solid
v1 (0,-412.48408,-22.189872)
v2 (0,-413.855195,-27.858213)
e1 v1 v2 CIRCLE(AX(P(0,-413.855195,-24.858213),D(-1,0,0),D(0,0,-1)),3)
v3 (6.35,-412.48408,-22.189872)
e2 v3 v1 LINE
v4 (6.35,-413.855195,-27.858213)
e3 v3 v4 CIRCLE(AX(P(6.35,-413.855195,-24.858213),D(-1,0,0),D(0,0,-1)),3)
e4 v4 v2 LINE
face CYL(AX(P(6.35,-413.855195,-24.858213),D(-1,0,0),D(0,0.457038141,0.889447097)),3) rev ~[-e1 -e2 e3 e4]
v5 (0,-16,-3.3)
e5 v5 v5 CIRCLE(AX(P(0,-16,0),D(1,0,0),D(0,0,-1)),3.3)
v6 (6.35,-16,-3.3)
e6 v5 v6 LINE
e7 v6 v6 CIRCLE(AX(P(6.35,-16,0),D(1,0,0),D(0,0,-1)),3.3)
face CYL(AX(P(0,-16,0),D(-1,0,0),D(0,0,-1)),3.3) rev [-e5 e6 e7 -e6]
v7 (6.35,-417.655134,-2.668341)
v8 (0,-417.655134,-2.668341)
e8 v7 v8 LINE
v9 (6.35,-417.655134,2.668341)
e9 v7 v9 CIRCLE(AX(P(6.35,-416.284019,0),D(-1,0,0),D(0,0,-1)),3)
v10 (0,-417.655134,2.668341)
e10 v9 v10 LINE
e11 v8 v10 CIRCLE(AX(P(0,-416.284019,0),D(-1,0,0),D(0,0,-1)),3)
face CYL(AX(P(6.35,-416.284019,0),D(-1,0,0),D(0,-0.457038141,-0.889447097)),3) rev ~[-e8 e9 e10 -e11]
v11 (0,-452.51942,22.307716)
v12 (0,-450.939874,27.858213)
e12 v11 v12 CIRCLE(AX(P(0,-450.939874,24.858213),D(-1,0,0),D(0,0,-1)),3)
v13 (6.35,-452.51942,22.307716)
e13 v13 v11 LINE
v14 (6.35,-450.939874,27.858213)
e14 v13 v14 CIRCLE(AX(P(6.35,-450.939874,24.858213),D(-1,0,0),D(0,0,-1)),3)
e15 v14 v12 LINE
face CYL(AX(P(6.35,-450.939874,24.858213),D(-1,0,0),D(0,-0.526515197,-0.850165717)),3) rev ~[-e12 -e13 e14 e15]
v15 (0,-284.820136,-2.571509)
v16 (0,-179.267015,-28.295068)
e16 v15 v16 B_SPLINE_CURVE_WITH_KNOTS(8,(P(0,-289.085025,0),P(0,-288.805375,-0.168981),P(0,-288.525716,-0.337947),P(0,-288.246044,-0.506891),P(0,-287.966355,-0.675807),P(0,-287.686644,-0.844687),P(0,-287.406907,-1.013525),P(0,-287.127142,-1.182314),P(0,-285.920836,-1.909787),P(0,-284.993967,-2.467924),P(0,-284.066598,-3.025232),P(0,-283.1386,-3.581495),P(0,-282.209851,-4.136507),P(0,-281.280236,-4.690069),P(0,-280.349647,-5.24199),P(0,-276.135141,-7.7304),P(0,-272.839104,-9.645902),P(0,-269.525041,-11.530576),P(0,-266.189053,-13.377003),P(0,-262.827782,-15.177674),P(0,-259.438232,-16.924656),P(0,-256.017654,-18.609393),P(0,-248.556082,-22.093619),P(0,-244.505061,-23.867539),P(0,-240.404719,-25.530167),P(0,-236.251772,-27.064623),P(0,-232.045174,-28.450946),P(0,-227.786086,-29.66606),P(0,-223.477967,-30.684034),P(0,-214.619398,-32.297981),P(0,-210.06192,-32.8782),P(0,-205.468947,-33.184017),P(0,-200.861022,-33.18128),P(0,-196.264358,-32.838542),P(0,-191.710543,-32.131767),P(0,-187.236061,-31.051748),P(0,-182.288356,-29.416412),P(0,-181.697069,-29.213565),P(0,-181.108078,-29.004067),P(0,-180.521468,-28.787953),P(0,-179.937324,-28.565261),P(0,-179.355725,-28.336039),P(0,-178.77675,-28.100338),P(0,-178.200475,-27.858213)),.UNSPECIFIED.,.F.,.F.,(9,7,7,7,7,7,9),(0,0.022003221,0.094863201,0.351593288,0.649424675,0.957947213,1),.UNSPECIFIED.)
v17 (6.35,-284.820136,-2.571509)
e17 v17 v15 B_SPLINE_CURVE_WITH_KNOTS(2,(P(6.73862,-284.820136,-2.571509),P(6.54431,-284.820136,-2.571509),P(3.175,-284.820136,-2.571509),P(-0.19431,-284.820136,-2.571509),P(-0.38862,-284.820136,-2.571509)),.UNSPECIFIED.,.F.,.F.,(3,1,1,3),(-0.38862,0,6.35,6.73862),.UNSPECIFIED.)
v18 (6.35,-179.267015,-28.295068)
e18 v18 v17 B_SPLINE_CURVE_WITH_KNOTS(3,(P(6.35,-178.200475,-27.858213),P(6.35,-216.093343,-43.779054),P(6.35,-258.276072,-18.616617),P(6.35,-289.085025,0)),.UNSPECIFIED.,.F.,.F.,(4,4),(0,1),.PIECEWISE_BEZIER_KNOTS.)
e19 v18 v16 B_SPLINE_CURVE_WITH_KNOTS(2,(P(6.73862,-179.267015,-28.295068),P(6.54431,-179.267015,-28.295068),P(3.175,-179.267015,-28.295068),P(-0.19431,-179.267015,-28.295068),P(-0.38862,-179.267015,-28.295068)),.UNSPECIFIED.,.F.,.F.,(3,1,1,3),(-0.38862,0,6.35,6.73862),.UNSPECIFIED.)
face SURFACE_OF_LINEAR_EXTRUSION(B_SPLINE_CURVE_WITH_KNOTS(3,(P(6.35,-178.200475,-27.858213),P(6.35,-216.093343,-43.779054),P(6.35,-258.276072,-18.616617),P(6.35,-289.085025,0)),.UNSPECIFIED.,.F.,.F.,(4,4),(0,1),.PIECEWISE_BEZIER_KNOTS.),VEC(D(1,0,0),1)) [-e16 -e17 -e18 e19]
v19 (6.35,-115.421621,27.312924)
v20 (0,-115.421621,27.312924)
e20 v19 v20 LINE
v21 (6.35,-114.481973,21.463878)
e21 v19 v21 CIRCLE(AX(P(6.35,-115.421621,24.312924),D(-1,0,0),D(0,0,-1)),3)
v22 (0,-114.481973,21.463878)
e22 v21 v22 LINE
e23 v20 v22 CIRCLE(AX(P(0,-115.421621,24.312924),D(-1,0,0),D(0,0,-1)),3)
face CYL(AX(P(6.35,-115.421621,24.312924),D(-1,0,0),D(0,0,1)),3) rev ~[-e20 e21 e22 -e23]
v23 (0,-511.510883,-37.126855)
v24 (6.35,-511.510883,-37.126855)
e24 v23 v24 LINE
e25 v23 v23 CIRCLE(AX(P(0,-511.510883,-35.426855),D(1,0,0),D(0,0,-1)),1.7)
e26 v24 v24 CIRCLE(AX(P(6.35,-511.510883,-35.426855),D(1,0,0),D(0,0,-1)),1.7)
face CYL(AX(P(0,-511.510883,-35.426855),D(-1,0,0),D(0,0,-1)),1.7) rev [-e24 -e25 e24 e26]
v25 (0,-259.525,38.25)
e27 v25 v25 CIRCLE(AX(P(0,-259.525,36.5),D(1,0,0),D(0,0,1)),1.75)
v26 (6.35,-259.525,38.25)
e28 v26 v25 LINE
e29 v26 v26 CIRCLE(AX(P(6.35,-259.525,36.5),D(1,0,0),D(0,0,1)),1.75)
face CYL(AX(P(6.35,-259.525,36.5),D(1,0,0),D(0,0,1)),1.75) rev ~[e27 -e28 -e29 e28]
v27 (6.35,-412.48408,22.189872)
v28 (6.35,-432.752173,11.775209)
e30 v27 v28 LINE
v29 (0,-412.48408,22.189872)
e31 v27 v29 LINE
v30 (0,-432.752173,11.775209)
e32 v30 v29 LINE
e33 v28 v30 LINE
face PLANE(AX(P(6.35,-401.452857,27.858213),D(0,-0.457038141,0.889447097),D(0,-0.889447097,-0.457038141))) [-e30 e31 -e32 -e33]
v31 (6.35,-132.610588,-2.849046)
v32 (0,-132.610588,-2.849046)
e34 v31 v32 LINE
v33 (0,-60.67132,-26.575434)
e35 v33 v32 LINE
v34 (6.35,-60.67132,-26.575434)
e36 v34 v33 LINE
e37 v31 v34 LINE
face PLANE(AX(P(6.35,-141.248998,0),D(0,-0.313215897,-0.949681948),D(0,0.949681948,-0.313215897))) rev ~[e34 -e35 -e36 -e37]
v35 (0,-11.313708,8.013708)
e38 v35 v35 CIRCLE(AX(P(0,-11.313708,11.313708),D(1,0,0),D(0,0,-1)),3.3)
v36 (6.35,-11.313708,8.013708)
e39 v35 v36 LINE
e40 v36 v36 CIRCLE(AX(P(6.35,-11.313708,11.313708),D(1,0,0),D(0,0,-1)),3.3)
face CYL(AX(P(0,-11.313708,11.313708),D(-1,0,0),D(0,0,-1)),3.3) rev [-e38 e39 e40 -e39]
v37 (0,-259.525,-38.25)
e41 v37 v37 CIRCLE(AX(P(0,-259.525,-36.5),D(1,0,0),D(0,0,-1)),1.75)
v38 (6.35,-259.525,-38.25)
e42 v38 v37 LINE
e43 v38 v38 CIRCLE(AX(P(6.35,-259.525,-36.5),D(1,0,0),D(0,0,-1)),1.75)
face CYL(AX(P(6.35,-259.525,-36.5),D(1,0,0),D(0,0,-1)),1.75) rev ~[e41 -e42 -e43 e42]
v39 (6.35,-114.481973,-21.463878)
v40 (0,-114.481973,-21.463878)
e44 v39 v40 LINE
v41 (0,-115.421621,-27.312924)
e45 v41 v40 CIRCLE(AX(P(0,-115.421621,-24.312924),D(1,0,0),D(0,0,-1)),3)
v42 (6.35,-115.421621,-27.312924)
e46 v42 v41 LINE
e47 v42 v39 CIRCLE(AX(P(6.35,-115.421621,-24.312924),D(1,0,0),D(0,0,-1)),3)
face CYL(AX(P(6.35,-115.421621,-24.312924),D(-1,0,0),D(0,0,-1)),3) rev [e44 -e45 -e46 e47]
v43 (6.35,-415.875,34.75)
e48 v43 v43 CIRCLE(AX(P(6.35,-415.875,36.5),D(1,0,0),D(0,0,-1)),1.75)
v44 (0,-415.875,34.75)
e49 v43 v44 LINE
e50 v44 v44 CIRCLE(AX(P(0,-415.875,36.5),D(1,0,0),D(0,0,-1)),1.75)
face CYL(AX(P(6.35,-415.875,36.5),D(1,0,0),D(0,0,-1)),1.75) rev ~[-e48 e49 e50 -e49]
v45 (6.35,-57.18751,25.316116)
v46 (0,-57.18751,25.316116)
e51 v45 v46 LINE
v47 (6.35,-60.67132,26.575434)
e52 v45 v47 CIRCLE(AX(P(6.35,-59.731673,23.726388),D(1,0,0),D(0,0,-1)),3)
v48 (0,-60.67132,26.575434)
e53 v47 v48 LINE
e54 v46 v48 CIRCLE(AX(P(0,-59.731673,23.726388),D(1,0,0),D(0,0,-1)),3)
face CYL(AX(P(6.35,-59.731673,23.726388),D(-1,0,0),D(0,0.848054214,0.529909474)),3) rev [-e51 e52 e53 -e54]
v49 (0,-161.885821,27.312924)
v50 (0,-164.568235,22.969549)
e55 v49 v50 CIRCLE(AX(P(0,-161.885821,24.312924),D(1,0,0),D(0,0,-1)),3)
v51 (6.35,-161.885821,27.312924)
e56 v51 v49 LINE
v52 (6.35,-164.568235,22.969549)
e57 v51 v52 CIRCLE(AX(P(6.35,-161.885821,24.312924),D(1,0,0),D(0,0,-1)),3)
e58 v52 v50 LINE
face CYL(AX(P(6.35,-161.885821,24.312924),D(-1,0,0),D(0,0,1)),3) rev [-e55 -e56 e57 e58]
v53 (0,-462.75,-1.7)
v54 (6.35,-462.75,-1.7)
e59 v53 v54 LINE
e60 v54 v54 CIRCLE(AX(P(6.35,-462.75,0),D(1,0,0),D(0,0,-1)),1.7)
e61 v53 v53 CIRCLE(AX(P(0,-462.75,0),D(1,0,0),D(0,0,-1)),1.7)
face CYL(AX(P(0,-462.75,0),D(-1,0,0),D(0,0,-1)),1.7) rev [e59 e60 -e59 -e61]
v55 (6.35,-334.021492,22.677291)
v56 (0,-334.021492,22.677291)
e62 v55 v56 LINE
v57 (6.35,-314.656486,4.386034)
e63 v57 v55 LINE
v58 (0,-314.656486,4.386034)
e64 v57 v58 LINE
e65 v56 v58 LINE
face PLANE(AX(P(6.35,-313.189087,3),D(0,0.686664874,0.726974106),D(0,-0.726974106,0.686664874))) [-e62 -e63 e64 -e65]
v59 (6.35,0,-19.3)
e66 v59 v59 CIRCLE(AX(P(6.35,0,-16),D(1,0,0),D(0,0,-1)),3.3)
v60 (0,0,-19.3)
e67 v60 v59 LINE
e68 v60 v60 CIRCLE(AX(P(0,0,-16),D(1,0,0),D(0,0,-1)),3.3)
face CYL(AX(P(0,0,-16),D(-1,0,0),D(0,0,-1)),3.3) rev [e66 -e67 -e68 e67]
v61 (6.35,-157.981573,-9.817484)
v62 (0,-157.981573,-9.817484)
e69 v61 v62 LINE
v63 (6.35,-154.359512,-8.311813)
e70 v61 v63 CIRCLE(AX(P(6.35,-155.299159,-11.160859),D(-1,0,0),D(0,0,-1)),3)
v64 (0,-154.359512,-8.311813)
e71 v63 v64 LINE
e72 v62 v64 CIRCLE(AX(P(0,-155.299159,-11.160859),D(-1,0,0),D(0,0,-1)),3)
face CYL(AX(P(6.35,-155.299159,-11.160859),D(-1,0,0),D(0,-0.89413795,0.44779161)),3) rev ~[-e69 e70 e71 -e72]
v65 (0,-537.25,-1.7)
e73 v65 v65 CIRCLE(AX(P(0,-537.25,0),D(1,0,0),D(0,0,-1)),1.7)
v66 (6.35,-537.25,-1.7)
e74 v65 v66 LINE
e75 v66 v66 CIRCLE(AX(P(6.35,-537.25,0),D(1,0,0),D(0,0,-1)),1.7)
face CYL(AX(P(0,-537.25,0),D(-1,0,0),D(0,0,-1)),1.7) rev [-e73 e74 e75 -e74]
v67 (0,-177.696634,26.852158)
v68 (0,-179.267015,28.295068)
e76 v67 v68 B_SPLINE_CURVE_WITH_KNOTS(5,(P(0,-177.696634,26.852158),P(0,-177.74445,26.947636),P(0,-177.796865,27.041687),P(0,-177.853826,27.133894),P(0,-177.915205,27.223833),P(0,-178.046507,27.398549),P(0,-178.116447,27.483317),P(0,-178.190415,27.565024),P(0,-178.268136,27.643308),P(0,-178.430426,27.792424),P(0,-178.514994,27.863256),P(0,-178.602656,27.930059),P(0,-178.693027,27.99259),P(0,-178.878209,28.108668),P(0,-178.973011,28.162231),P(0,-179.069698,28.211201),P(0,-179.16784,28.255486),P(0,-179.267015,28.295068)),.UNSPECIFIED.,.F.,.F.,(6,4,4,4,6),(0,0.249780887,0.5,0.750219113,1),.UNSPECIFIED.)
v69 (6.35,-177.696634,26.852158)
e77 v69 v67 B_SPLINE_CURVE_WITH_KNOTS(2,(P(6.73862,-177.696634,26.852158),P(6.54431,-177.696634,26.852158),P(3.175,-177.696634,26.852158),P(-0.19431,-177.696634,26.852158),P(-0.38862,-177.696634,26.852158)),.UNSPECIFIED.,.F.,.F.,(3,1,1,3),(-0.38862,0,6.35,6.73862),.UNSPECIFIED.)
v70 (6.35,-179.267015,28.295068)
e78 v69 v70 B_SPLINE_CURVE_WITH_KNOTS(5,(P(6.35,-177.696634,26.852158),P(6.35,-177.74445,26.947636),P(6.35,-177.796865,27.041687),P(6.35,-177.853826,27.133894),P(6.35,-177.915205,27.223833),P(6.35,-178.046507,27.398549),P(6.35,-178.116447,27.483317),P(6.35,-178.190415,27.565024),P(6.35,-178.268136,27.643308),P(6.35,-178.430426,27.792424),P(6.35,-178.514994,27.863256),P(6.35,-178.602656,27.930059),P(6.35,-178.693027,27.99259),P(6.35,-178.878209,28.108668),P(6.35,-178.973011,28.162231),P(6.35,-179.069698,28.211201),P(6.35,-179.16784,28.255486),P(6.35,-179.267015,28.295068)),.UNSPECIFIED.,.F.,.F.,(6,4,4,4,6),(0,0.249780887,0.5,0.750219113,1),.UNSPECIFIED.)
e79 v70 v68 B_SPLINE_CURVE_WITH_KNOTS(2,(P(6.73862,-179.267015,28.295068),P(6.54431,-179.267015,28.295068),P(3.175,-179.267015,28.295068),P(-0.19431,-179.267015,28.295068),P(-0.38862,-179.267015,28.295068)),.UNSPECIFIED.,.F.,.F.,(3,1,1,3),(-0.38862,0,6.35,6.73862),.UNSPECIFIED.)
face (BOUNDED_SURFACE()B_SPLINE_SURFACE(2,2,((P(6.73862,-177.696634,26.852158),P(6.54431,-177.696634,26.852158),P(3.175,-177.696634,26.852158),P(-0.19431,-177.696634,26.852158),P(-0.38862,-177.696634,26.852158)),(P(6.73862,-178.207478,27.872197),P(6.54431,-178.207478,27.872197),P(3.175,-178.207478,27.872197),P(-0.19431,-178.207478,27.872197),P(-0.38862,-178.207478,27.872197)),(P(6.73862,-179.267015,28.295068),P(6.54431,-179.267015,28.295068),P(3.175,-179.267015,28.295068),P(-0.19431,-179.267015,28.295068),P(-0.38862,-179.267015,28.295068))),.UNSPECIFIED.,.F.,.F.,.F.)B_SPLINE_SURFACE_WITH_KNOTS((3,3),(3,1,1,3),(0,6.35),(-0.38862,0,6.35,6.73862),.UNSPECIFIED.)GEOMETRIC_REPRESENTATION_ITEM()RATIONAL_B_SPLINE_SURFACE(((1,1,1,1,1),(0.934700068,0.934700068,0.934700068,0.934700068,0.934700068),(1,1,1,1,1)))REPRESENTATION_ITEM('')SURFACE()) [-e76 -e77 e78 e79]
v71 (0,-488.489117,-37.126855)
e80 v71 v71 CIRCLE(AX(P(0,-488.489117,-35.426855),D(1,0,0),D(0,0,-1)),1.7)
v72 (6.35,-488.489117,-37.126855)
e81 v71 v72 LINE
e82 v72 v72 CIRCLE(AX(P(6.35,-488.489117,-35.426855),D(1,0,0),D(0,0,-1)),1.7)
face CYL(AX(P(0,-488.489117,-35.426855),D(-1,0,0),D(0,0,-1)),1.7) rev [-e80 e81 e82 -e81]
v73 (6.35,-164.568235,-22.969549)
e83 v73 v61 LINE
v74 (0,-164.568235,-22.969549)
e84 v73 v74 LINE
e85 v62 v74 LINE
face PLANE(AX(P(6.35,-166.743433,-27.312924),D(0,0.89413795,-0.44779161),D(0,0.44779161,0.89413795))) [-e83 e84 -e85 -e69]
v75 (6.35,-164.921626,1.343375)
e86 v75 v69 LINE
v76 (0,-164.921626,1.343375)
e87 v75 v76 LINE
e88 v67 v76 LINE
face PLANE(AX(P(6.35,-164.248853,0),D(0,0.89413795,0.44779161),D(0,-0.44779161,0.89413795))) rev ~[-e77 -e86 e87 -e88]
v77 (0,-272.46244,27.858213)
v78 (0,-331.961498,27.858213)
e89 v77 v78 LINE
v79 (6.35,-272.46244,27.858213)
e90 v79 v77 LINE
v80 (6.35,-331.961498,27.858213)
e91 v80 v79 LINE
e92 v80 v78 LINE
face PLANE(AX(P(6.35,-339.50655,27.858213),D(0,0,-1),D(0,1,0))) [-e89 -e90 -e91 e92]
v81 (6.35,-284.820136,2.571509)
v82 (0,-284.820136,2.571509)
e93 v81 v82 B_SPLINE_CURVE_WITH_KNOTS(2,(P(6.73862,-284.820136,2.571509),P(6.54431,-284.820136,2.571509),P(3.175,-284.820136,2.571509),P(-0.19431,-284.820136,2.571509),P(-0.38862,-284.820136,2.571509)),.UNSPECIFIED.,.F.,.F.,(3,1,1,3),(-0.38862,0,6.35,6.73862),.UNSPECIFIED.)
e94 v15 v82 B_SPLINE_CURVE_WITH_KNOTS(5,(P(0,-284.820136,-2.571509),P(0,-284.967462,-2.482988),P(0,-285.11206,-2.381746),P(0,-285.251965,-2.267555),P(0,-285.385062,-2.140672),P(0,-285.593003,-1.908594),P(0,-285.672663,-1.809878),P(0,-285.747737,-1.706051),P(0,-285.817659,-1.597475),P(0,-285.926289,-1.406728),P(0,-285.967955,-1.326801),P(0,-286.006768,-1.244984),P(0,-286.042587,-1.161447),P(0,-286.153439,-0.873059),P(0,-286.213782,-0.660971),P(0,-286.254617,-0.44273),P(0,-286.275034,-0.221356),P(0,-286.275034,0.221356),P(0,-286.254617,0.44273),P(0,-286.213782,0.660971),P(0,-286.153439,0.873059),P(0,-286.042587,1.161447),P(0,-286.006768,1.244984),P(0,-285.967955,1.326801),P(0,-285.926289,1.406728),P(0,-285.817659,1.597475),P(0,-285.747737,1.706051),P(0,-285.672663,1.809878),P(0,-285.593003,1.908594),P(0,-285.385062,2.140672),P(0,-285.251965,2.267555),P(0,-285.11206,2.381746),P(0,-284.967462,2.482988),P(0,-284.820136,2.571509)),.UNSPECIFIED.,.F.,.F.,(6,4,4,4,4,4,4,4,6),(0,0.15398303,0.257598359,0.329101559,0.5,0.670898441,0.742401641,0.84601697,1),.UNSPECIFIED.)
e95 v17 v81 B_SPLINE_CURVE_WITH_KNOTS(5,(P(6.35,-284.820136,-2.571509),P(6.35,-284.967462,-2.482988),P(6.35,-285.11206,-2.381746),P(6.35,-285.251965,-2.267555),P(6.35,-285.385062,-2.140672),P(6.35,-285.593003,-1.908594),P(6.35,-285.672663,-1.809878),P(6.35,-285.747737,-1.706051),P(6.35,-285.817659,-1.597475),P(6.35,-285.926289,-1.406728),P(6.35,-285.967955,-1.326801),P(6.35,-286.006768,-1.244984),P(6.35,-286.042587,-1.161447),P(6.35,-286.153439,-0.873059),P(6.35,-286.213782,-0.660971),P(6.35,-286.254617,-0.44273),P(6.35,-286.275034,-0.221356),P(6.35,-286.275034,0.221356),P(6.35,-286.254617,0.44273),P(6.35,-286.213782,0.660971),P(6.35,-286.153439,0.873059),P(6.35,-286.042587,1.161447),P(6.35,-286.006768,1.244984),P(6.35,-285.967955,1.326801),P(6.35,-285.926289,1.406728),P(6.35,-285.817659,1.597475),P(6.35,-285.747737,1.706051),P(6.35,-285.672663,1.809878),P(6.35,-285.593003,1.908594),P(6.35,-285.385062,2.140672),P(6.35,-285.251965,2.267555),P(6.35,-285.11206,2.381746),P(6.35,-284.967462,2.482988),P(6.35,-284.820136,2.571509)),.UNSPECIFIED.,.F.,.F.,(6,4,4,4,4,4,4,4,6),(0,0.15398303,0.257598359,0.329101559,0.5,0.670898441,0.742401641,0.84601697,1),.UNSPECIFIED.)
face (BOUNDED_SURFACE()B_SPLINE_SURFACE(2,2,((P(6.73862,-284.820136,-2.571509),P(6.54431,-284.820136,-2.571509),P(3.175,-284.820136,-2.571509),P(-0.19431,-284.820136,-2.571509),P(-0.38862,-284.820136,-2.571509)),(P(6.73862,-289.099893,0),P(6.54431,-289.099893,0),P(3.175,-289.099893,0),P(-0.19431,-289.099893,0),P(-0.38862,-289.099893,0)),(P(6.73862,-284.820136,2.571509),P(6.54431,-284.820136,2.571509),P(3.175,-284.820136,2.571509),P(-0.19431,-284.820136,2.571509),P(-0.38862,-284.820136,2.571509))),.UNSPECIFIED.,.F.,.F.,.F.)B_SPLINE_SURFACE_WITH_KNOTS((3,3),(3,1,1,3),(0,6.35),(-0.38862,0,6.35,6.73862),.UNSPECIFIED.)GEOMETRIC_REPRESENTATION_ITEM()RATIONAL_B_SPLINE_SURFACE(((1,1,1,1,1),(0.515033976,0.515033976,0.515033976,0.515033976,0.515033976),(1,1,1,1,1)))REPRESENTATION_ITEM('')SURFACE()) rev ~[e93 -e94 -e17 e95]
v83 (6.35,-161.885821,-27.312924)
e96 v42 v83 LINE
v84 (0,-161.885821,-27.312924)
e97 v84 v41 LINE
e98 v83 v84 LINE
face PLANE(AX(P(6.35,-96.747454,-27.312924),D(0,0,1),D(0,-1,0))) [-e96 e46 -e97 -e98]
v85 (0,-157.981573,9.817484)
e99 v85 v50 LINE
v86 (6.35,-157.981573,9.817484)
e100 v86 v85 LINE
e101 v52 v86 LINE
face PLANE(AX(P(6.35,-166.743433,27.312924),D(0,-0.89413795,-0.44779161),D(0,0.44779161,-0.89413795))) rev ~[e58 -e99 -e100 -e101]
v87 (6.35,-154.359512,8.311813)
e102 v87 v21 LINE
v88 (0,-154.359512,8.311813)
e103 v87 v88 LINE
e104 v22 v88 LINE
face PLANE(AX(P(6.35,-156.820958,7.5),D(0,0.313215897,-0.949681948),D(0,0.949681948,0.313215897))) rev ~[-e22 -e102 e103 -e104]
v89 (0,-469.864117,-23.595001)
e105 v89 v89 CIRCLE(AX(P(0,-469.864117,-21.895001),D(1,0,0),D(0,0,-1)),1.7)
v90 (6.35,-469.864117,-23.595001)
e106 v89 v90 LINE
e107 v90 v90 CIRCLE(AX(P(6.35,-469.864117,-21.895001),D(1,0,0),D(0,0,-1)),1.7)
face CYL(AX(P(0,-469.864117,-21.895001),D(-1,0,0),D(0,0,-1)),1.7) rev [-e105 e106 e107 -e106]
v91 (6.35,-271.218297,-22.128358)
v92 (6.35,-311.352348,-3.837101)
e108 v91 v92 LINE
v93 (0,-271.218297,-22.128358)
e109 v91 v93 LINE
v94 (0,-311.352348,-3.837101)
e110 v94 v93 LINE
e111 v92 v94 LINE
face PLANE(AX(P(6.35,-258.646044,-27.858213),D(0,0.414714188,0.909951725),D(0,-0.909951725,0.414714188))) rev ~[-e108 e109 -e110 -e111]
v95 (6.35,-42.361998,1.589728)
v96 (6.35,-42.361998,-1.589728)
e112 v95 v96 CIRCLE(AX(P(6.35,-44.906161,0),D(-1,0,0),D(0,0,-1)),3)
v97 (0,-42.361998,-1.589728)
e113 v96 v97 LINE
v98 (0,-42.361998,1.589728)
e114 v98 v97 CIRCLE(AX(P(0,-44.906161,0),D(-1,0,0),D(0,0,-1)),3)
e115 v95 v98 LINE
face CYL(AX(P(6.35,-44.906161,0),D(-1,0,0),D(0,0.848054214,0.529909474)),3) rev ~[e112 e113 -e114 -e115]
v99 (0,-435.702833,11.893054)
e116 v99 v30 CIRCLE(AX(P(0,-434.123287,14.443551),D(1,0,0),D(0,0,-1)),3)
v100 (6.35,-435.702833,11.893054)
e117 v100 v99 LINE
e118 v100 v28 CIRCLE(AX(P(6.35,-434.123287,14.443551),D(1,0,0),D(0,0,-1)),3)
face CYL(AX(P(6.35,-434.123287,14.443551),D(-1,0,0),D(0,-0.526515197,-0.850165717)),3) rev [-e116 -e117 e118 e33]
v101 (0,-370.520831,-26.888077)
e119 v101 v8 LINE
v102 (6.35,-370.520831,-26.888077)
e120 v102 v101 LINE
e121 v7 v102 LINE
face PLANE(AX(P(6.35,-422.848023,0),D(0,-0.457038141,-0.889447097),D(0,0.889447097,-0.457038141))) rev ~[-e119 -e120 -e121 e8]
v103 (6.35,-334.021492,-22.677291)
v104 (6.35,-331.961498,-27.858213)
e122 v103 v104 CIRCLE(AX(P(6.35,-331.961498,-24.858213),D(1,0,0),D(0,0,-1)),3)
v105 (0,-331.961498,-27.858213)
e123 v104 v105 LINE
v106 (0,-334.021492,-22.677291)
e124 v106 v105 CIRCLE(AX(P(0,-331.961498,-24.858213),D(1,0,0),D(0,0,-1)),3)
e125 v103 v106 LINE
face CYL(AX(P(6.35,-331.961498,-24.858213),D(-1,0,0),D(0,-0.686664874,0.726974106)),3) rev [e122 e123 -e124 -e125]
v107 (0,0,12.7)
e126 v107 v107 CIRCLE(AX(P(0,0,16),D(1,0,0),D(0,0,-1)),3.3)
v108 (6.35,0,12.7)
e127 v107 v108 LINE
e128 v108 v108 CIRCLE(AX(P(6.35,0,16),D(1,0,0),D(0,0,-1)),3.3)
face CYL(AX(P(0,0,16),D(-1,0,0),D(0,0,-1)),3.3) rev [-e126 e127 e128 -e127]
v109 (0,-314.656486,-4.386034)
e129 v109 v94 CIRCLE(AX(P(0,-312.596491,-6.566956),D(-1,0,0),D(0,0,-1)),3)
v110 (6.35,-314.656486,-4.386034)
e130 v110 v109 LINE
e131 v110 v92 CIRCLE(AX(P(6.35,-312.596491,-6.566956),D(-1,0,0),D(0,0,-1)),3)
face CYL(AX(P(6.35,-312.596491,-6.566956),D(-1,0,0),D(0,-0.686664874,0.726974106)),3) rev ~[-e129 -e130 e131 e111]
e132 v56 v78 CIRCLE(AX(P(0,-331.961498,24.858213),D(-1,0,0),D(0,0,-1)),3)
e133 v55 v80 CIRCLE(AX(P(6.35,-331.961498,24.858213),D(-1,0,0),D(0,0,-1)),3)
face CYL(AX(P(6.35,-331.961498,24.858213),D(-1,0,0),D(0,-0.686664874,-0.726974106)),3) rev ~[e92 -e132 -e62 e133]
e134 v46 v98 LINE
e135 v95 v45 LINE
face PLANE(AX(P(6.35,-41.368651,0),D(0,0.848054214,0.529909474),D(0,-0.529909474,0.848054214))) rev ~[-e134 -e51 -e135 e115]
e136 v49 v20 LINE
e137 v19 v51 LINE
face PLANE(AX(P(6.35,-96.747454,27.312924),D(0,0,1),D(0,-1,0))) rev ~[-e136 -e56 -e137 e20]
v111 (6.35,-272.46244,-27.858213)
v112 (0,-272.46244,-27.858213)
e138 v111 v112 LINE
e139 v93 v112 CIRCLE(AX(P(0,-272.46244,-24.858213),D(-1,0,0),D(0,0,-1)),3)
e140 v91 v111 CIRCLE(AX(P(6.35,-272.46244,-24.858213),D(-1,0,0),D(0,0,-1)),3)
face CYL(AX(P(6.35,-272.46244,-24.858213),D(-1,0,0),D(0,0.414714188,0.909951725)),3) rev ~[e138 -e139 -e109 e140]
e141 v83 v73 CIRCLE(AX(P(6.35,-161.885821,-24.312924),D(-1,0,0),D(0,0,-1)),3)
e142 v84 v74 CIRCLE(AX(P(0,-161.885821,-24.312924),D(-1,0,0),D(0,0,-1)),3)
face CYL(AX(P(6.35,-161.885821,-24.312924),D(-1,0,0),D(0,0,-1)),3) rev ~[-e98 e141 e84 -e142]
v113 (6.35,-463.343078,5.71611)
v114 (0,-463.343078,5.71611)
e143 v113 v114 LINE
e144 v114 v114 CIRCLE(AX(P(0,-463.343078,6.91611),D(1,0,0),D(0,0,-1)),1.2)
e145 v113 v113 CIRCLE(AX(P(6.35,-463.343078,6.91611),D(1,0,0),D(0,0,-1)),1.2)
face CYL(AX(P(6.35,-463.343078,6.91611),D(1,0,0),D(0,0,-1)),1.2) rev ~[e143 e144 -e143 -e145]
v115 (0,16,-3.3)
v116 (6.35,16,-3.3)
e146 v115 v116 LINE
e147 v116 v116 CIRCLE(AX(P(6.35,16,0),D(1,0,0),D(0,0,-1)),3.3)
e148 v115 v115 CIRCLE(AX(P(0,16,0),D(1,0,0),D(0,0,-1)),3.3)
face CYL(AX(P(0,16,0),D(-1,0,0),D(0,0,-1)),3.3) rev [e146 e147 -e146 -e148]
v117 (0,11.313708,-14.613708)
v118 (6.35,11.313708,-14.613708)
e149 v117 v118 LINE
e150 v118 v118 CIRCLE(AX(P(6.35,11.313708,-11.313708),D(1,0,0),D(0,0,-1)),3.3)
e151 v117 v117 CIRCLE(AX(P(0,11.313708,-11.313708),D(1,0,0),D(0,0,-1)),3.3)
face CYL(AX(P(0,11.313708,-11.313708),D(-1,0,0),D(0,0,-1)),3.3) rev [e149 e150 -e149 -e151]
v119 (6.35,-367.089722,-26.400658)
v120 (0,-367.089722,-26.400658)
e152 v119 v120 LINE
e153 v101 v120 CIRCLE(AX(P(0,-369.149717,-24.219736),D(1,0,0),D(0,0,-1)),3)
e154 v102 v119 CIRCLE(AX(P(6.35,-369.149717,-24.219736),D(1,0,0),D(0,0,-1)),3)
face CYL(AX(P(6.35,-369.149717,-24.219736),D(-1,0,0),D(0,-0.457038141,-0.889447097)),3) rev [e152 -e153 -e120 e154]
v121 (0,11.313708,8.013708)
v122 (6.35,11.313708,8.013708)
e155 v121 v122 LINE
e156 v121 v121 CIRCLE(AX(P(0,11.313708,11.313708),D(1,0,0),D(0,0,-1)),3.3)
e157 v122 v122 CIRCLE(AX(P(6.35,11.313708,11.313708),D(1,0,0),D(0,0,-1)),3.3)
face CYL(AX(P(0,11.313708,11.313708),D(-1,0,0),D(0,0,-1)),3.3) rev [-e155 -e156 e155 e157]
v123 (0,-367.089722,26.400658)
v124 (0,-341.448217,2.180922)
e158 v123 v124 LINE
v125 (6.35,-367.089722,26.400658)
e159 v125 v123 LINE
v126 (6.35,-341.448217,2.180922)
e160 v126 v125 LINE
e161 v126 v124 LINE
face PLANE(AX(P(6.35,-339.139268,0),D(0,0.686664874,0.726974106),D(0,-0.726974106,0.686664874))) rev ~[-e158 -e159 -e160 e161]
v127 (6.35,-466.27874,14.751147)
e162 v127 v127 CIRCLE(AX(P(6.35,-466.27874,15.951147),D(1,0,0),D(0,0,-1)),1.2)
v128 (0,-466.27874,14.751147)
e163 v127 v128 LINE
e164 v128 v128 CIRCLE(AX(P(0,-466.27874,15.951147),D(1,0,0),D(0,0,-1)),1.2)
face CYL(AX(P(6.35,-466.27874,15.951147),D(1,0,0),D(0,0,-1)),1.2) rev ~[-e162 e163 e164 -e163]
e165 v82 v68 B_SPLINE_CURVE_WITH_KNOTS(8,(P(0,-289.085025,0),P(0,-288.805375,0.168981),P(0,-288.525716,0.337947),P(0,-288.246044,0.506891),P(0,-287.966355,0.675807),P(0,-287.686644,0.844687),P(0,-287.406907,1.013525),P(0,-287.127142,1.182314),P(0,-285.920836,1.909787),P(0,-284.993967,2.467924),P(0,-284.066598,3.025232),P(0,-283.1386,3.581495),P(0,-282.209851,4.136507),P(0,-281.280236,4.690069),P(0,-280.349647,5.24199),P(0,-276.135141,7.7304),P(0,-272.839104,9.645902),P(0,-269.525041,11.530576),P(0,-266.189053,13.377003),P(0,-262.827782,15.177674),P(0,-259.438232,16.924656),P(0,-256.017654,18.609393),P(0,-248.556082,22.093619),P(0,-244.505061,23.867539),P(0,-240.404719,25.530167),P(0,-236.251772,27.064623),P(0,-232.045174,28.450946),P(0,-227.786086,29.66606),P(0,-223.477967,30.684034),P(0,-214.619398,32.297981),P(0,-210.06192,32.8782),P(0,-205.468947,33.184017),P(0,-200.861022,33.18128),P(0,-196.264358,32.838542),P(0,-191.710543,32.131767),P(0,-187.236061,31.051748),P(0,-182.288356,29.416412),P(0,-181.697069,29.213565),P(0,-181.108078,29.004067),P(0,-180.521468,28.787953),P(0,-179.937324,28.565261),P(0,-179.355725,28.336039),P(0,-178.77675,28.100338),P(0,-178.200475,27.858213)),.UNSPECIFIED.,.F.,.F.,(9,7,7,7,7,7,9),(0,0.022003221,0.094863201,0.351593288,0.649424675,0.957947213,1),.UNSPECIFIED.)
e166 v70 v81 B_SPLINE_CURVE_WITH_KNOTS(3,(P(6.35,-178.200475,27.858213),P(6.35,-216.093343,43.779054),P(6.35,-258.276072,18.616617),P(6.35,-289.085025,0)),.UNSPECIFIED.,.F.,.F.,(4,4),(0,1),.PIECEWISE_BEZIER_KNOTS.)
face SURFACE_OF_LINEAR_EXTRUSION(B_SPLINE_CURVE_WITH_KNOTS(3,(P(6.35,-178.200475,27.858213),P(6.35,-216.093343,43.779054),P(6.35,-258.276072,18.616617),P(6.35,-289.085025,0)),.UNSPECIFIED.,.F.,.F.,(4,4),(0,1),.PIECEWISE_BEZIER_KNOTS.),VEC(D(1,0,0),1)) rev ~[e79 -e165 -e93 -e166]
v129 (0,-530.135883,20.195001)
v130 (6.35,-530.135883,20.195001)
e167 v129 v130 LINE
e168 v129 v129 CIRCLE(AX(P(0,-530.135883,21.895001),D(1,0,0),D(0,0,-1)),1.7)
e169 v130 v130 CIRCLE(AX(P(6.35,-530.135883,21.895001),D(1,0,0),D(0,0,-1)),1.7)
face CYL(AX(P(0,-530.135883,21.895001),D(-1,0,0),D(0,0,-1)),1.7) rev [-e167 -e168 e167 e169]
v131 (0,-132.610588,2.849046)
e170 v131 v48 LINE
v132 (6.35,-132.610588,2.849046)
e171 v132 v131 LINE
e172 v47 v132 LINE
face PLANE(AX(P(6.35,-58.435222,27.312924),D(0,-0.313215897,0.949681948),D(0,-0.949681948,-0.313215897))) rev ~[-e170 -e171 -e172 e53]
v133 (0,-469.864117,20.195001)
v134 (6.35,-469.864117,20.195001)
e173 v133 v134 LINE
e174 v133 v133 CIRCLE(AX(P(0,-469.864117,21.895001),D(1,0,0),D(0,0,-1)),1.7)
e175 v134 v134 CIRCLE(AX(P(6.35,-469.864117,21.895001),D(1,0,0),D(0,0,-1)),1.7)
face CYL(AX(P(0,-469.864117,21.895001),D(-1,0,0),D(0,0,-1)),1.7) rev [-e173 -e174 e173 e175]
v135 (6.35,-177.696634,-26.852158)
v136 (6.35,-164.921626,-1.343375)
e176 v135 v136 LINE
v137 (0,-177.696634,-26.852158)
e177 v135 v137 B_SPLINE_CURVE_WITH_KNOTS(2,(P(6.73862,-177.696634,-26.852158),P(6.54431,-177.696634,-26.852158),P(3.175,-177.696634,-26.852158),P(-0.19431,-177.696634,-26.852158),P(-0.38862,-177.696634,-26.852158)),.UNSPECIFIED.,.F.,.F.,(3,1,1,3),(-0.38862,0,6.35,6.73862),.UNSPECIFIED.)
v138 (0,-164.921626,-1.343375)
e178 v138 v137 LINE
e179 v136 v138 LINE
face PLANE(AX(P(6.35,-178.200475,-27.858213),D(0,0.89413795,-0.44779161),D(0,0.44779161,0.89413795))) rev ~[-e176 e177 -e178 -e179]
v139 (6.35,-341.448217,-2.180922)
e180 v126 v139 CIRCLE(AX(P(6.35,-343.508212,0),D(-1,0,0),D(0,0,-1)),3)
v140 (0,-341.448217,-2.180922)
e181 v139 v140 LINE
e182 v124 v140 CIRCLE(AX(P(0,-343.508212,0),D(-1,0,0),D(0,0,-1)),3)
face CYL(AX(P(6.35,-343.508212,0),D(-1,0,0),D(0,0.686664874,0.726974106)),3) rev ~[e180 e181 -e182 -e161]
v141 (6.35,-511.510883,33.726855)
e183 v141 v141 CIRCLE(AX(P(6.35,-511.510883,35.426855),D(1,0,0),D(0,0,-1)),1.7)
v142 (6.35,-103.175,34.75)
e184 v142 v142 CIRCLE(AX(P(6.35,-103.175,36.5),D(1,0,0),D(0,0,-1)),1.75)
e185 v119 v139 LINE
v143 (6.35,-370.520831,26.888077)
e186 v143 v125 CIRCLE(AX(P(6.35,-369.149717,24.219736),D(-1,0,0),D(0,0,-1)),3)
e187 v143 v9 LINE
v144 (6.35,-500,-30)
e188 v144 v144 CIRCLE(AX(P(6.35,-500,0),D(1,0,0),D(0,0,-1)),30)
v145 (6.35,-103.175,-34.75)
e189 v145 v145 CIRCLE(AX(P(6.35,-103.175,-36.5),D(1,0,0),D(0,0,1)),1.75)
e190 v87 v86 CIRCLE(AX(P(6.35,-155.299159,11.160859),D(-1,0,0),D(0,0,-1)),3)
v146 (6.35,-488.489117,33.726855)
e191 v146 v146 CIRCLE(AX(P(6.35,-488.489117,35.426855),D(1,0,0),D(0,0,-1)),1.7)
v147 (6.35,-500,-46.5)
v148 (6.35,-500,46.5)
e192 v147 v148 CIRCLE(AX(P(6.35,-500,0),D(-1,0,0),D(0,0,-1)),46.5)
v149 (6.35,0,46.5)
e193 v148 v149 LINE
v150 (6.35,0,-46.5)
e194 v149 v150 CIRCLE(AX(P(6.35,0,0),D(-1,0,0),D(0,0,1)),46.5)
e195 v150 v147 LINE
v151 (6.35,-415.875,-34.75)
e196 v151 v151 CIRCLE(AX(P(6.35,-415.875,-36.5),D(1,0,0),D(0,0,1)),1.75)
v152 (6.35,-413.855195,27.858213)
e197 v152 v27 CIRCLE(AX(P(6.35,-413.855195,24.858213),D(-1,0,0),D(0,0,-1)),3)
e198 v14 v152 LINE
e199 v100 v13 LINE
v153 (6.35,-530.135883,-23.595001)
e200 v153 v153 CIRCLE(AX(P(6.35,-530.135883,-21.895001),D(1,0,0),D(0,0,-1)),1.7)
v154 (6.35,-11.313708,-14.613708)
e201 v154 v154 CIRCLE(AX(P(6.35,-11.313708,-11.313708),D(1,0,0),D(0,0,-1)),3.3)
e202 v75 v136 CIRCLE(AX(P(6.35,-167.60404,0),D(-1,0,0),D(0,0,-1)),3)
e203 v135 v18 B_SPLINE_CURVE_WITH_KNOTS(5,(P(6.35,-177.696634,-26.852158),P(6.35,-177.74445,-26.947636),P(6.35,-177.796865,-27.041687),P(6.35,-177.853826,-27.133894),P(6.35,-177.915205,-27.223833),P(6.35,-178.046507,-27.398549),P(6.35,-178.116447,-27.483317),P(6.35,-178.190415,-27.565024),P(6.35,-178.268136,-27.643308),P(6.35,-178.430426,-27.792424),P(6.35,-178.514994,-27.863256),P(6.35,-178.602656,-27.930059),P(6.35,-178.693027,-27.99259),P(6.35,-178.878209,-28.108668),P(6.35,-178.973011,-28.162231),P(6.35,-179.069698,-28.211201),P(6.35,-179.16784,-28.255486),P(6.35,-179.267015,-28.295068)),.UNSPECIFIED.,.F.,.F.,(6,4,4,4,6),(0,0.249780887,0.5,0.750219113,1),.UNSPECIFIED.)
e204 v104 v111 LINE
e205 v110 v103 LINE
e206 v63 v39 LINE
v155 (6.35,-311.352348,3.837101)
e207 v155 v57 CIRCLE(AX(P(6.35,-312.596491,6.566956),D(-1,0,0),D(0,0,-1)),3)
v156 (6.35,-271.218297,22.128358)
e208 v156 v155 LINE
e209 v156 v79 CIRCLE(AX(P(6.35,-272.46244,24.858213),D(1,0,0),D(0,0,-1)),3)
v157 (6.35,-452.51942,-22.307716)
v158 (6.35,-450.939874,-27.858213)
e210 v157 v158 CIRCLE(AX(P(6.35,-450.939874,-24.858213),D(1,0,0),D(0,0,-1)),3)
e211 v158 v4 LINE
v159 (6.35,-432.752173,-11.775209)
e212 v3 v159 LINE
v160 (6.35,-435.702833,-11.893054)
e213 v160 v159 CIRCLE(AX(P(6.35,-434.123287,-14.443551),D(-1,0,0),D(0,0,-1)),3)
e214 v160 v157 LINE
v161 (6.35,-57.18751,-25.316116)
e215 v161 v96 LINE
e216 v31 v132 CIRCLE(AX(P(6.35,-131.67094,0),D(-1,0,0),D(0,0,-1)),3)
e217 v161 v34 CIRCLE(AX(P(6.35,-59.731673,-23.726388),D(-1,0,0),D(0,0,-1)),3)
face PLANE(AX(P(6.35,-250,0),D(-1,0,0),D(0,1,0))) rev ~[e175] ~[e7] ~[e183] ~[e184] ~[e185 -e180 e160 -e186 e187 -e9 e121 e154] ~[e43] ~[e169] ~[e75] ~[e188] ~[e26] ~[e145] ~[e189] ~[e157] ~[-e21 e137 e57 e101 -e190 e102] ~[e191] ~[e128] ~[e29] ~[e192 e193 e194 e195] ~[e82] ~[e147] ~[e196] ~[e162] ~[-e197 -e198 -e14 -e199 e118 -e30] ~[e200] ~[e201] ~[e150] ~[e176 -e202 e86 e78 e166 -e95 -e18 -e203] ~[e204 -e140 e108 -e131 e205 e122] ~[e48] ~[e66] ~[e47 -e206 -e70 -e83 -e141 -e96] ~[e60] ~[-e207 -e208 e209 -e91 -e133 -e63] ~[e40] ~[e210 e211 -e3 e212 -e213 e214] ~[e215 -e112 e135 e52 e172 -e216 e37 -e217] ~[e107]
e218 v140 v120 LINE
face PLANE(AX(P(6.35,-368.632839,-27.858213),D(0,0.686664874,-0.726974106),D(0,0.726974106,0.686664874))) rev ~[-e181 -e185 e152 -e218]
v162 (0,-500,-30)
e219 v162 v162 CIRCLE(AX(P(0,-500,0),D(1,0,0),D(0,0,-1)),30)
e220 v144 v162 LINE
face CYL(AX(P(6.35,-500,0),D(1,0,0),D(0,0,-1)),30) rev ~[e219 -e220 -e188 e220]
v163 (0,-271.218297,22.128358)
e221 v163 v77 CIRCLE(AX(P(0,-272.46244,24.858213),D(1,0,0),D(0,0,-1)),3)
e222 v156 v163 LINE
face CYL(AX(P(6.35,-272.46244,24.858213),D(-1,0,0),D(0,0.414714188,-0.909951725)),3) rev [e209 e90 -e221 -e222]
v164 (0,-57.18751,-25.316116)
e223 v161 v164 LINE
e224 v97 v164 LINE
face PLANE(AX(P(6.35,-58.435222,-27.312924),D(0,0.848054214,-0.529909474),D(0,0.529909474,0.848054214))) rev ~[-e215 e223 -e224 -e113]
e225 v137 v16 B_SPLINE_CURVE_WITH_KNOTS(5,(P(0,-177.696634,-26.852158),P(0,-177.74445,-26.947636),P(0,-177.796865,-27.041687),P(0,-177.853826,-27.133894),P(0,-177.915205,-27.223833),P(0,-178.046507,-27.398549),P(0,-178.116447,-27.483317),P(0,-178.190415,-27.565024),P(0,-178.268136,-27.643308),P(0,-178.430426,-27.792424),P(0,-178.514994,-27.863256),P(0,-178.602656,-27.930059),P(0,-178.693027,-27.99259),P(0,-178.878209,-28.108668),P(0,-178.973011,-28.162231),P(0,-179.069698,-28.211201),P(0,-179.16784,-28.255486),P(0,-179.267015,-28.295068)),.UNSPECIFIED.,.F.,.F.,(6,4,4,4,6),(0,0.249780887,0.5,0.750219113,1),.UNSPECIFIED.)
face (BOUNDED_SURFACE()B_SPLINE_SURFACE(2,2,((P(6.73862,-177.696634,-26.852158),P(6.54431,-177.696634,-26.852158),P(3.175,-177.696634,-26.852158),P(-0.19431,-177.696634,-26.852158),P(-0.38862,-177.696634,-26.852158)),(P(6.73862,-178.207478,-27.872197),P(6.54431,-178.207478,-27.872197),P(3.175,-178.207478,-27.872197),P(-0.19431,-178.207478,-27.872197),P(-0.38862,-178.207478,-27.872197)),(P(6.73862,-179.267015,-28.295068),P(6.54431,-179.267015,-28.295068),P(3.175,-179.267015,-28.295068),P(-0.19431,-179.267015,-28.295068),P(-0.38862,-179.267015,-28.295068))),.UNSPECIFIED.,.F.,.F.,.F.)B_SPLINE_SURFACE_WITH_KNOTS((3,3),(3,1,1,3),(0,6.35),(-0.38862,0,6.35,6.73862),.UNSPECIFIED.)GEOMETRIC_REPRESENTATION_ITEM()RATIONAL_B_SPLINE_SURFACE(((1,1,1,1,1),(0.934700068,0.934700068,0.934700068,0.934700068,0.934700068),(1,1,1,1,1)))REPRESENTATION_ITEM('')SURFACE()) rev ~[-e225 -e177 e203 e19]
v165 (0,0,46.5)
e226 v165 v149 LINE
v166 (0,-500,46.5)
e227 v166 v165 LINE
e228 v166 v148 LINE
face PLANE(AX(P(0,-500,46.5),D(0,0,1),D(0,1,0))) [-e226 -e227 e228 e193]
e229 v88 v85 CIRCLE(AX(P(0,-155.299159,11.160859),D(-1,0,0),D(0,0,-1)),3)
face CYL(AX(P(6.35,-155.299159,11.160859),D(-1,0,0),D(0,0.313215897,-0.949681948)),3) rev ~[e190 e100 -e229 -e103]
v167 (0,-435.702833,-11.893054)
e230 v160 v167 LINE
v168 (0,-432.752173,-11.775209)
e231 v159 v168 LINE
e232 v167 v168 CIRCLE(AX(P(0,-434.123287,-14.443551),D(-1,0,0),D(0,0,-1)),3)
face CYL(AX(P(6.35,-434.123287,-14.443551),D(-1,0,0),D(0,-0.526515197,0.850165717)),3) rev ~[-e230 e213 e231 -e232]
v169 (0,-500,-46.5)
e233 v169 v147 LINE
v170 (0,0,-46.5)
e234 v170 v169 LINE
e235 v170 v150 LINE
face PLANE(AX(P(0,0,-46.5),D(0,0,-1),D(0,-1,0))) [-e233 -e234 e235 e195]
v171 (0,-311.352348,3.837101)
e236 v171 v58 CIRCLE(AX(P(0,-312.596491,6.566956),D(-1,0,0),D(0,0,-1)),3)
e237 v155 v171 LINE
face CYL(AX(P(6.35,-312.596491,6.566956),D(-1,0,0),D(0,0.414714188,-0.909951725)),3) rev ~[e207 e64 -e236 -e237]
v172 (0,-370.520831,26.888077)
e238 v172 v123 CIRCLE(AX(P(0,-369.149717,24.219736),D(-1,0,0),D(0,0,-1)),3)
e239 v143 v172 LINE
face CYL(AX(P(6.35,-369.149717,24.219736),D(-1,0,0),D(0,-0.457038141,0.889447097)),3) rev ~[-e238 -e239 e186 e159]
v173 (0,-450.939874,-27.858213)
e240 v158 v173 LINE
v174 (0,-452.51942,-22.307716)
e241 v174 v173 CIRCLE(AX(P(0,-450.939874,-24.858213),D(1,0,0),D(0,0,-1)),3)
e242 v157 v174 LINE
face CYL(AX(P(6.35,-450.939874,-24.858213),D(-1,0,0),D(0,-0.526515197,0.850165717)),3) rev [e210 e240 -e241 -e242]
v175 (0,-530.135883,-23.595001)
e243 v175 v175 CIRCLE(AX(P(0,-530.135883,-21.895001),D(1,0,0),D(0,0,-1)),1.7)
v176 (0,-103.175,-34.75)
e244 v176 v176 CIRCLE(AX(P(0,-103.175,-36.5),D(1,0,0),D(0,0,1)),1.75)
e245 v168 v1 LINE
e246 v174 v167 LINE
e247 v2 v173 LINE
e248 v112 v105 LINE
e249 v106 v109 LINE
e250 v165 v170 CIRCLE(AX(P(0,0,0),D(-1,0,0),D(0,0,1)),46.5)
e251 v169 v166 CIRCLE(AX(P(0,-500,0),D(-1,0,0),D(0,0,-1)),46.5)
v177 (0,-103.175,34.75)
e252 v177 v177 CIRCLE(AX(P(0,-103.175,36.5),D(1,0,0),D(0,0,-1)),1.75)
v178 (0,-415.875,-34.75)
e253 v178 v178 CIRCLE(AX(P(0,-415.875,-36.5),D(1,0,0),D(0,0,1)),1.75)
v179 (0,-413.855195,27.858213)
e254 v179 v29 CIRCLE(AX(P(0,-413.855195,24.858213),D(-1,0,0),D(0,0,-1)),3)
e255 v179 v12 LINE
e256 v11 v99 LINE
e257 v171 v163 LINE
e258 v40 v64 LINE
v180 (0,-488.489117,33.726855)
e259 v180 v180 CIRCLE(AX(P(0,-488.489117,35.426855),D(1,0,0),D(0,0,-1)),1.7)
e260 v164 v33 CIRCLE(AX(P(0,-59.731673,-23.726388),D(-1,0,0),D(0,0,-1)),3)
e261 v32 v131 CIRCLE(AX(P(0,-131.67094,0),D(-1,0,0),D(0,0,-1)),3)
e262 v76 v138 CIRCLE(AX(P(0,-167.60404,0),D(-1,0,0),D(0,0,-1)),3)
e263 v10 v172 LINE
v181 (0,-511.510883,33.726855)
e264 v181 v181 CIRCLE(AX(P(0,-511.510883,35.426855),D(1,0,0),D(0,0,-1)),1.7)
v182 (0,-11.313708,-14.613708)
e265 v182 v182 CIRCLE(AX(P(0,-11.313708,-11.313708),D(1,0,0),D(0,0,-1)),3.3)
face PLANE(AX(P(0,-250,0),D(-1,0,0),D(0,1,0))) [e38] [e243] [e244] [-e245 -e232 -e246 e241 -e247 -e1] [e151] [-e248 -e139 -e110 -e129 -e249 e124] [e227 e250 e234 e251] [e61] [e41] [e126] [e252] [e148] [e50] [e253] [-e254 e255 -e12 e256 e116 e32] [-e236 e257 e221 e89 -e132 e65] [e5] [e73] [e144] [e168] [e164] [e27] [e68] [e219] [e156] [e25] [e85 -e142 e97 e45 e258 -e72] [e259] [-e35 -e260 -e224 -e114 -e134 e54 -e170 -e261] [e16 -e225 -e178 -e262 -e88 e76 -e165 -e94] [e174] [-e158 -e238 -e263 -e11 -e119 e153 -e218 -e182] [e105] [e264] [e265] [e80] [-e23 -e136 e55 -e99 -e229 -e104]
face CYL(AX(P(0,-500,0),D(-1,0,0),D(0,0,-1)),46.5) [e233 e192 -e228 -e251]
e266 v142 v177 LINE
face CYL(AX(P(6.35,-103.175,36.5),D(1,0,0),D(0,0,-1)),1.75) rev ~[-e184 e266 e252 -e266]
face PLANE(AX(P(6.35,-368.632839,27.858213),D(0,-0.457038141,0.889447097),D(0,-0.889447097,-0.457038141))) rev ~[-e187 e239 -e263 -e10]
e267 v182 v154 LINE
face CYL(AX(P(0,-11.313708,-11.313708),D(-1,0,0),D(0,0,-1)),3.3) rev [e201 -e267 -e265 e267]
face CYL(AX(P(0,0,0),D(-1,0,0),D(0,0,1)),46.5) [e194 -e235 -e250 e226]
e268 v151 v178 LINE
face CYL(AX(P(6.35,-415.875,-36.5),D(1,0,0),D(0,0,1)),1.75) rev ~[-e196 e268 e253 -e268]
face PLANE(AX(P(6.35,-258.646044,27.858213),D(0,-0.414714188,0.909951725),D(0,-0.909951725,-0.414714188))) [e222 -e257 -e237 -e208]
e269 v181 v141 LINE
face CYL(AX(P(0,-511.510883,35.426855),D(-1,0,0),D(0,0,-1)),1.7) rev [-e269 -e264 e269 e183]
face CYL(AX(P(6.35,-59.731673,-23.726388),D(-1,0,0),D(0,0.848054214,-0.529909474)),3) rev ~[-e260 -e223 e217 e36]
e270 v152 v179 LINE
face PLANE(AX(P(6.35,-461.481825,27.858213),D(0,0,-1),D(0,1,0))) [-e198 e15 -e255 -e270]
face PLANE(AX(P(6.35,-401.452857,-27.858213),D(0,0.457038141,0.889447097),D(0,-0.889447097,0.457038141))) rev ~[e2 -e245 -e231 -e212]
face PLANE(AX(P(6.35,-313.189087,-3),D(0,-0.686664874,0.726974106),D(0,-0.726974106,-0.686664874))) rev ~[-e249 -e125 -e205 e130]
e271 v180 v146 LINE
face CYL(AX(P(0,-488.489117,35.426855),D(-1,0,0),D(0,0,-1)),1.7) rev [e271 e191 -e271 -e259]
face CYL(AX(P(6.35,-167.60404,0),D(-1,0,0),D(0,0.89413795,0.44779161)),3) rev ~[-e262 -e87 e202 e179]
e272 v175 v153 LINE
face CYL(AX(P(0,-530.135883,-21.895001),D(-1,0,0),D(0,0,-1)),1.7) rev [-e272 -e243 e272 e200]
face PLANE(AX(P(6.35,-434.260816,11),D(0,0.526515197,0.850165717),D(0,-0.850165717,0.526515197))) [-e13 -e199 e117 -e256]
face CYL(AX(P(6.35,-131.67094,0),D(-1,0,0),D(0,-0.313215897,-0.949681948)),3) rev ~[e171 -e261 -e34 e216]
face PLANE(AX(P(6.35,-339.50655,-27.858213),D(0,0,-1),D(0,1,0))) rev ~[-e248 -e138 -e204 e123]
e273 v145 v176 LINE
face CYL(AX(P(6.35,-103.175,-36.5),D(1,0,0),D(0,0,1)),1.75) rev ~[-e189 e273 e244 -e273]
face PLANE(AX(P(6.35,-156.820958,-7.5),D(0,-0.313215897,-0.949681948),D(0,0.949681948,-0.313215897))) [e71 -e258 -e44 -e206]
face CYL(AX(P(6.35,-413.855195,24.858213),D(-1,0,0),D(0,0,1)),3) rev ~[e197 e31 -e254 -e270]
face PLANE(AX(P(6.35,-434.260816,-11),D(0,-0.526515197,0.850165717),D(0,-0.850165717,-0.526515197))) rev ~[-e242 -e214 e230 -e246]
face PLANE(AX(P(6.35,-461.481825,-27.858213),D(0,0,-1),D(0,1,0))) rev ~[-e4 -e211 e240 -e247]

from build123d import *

# Parameters (mm, degrees)
SKETCH1_R                            = 3.3
SKETCH1_R_2                          = 1.7
SKETCH1_R_3                          = 26
BOSS_EXTRUDE1_DEPTH                  = 6.35
CUT_EXTRUDE1_DEPTH                   = 549.511460682
FILLET1_R                            = 3
SKETCH4_R                            = 1.75
CUT_EXTRUDE2_DEPTH                   = 549.511460792
SKETCH5_R                            = 1.2
CUT_EXTRUDE4_DEPTH                   = 549.511460792
BOSS_EXTRUDE2_START                  = -6.35
BOSS_EXTRUDE2_DEPTH                  = 6.35
TAP_DRILL_FOR_M3X0_5_TAP1_AT_2_COUNT = 2
TAP_DRILL_FOR_M3X0_5_TAP1_AT_2_PITCH = 13.03070812
CIRPATTERN1_COUNT                    = 2
CIRPATTERN1_ANGLE                    = 90
CUT_EXTRUDE5_DEPTH                   = 549.511460792
SKETCH10_R                           = 30
CUT_EXTRUDE6_DEPTH                   = 549.511460792


with BuildPart() as part:
    # Sketch1 → Boss-Extrude1 (new body)
    with BuildSketch(Plane(origin=(0, 0, 0), x_dir=(0, -1, 0), z_dir=(1, 0, 0))):
        with BuildLine():
            Line((0, 46.5), (500, 46.5))
            ThreePointArc((500, 46.5), (546.5, 0), (500, -46.5))
            Line((500, -46.5), (0, -46.5))
            ThreePointArc((0, -46.5), (-46.5, 0), (0, 46.5))
        make_face()
        with Locations(Location((-16, 0, 0), (0, 0, 90))):
            Circle(SKETCH1_R, mode=Mode.SUBTRACT)
        with Locations(Location((-11.313708499, 11.313708499, 0), (0, 0, 90))):
            Circle(SKETCH1_R, mode=Mode.SUBTRACT)
        with Locations(Location((0, 16, 0), (0, 0, 90))):
            Circle(SKETCH1_R, mode=Mode.SUBTRACT)
        with Locations(Location((11.313708499, 11.313708499, 0), (0, 0, 90))):
            Circle(SKETCH1_R, mode=Mode.SUBTRACT)
        with Locations(Location((16, 0, 0), (0, 0, 90))):
            Circle(SKETCH1_R, mode=Mode.SUBTRACT)
        with Locations(Location((11.313708499, -11.313708499, 0), (0, 0, 90))):
            Circle(SKETCH1_R, mode=Mode.SUBTRACT)
        with Locations(Location((537.25, 0, 0), (0, 0, 90))):
            Circle(SKETCH1_R_2, mode=Mode.SUBTRACT)
        with Locations(Location((530.13588304, -21.895000648, 0), (0, 0, 90))):
            Circle(SKETCH1_R_2, mode=Mode.SUBTRACT)
        with Locations(Location((511.51088304, -35.426855232, 0), (0, 0, 90))):
            Circle(SKETCH1_R_2, mode=Mode.SUBTRACT)
        with Locations(Location((488.48911696, -35.426855232, 0), (0, 0, 90))):
            Circle(SKETCH1_R_2, mode=Mode.SUBTRACT)
        with Locations(Location((469.86411696, -21.895000648, 0), (0, 0, 90))):
            Circle(SKETCH1_R_2, mode=Mode.SUBTRACT)
        with Locations(Location((462.75, 0, 0), (0, 0, 90))):
            Circle(SKETCH1_R_2, mode=Mode.SUBTRACT)
        with Locations(Location((469.86411696, 21.895000648, 0), (0, 0, 90))):
            Circle(SKETCH1_R_2, mode=Mode.SUBTRACT)
        with Locations(Location((488.48911696, 35.426855232, 0), (0, 0, 90))):
            Circle(SKETCH1_R_2, mode=Mode.SUBTRACT)
        with Locations(Location((511.51088304, 35.426855232, 0), (0, 0, 90))):
            Circle(SKETCH1_R_2, mode=Mode.SUBTRACT)
        with Locations(Location((530.13588304, 21.895000648, 0), (0, 0, 90))):
            Circle(SKETCH1_R_2, mode=Mode.SUBTRACT)
        with Locations(Location((500, 0, 0), (0, 0, 90))):
            Circle(SKETCH1_R_3, mode=Mode.SUBTRACT)
        with Locations(Location((0, -16, 0), (0, 0, 90))):
            Circle(SKETCH1_R, mode=Mode.SUBTRACT)
        with Locations(Location((-11.313708499, -11.313708499, 0), (0, 0, 90))):
            Circle(SKETCH1_R, mode=Mode.SUBTRACT)
    extrude(amount=BOSS_EXTRUDE1_DEPTH)

    # Sketch3 → Cut-Extrude1 (cut, through all)
    with BuildSketch(Plane(origin=(6.35, 0, 0), x_dir=(0, 0, -1), z_dir=(1, 0, 0))):
        Polygon((0, -422.848022722), (27.858212922, -368.632839363), (0, -339.139268075), (-27.858212922, -368.632839363), align=None)
        Polygon((0, -41.368651369), (-27.312924288, -58.435222232), (0, -141.248998295), (27.312924288, -58.435222232), align=None)
        Polygon((3, -313.189087212), (27.858212922, -339.506549748), (27.858212922, -258.646044282), align=None)
        Polygon((-27.858212922, -339.506549748), (-27.858212922, -258.646044282), (-3, -313.189087212), align=None)
        Polygon((-27.858212922, -401.452857349), (-11, -434.260816252), (-27.858212922, -461.481824785), align=None)
        Polygon((11, -434.260816252), (27.858212922, -461.481824785), (27.858212922, -401.452857349), align=None)
        with BuildLine():
            Line((0, -164.248853344), (-27.858212922, -178.200474573))
            add(Edge.make_bspline(
                [(-27.858212922, -178.200474573), (-43.7790539, -216.093343216), (-18.61661693, -258.276071598), (0, -289.085024731)],
                knots=[0, 0, 0, 0, 1, 1, 1, 1], degree=3))
            add(Edge.make_bspline(
                [(27.858212922, -178.200474573), (43.7790539, -216.093343216), (18.61661693, -258.276071598), (0, -289.085024731)],
                knots=[0, 0, 0, 0, 1, 1, 1, 1], degree=3))
            Line((27.858212922, -178.200474573), (0, -164.248853344))
        make_face()
        Polygon((7.5, -156.820958214), (27.312924288, -96.747453897), (27.312924288, -166.743432993), align=None)
        Polygon((-27.312924288, -96.747453897), (-27.312924288, -166.743432993), (-7.5, -156.820958214), align=None)
    extrude(amount=-CUT_EXTRUDE1_DEPTH, mode=Mode.SUBTRACT)

    # Fillet1
    fillet1_edges = [part.edges().sort_by_distance(p)[0] for p in [
        (3.175, -58.435222232, -27.312924288),
        (3.175, -41.368651369, 0),
        (3.175, -58.435222232, 27.312924288),
        (3.175, -141.248998295, 0),
        (3.175, -289.085024731, 0),
        (3.175, -164.248853344, 0),
        (3.175, -401.452857349, 27.858212922),
        (3.175, -434.260816252, 11),
        (3.175, -461.481824785, 27.858212922),
        (3.175, -461.481824785, -27.858212922),
        (3.175, -434.260816252, -11),
        (3.175, -401.452857349, -27.858212922),
        (3.175, -368.632839363, -27.858212922),
        (3.175, -339.139268075, 0),
        (3.175, -368.632839363, 27.858212922),
        (3.175, -422.848022722, 0),
        (3.175, -313.189087212, 3),
        (3.175, -339.506549748, 27.858212922),
        (3.175, -258.646044282, 27.858212922),
        (3.175, -178.200474573, -27.858212922),
        (3.175, -178.200474573, 27.858212922),
        (3.175, -339.506549748, -27.858212922),
        (3.175, -313.189087212, -3),
        (3.175, -258.646044282, -27.858212922),
        (3.175, -96.747453897, 27.312924288),
        (3.175, -166.743432993, 27.312924288),
        (3.175, -156.820958214, 7.5),
        (3.175, -166.743432993, -27.312924288),
        (3.175, -156.820958214, -7.5),
        (3.175, -96.747453897, -27.312924288),
    ]]
    fillet(fillet1_edges, radius=FILLET1_R)

    # Sketch4 → Cut-Extrude2 (cut, through all)
    with BuildSketch(Plane(origin=(6.35, 0, 0), x_dir=(0, 0, -1), z_dir=(1, 0, 0))):
        with Locations((-36.5, -103.175)):
            Circle(SKETCH4_R)
        with Locations(Location((36.5, -103.175, 0), (0, 0, 180))):
            Circle(SKETCH4_R)
        with Locations(Location((-36.5, -259.525, 0), (0, 0, 180))):
            Circle(SKETCH4_R)
        with Locations((36.5, -259.525)):
            Circle(SKETCH4_R)
        with Locations((-36.5, -415.875)):
            Circle(SKETCH4_R)
        with Locations(Location((36.5, -415.875, 0), (0, 0, 180))):
            Circle(SKETCH4_R)
    extrude(amount=-CUT_EXTRUDE2_DEPTH, mode=Mode.SUBTRACT)

    # Sketch5 → Cut-Extrude4 (cut, through all)
    with BuildSketch(Plane(origin=(6.35, 0, 0), x_dir=(0, 0, -1), z_dir=(1, 0, 0))):
        with Locations((-6.916110339, -463.343078174)):
            Circle(SKETCH5_R)
        with Locations((-15.951147244, -466.27873962)):
            Circle(SKETCH5_R)
    extrude(amount=-CUT_EXTRUDE4_DEPTH, mode=Mode.SUBTRACT)

    # Sketch6 → Boss-Extrude2 (add)
    with BuildSketch(Plane(origin=(6.35, 0, 0), x_dir=(0, 0, -1), z_dir=(1, 0, 0)).offset(BOSS_EXTRUDE2_START)):
        with BuildLine():
            Line((-44.110383395, -529.968247771), (-29.968247771, -544.110383395))
            ThreePointArc((-29.968247771, -544.110383395), (-23.286397782, -542.399293624), (-16.474718596, -543.483717035))
            ThreePointArc((-16.474718596, -543.483717035), (-32.880465325, -532.880465325), (-43.483717035, -516.474718596))
            ThreePointArc((-43.483717035, -516.474718596), (-42.399293624, -523.286397782), (-44.110383395, -529.968247771))
        make_face()
    boss_extrude2 = extrude(amount=BOSS_EXTRUDE2_DEPTH)

    # Sketch8 → Tap Drill for M3x0.5 Tap1 (revolve, cut)
    with BuildSketch(Plane(origin=(3.175, -532.796674896, 41.28195627), x_dir=(0, -0.7071067811865424, -0.7071067811865527), z_dir=(1, 0, 0))):
        Polygon((0, 0), (0, 5.751075774), (1.25, 5), (1.25, 0), align=None)
    tap_drill_for_m3x0_5_tap1 = revolve(axis=Axis((3.175, -537.286802956, 45.772084331), (0, 0.7071067811865529, -0.7071067811865422)), mode=Mode.SUBTRACT)

    # Tap Drill for M3x0.5 Tap1 at 2: Tap Drill for M3x0.5 Tap1 ×2
    with Locations(*[Vector(0, -0.7071067811865422, -0.7071067811865529) * (i * TAP_DRILL_FOR_M3X0_5_TAP1_AT_2_PITCH) for i in range(1, TAP_DRILL_FOR_M3X0_5_TAP1_AT_2_COUNT)]):
        add(tap_drill_for_m3x0_5_tap1, mode=Mode.SUBTRACT)

    # CirPattern1: Boss-Extrude2, Tap Drill for M3x0.5 Tap1 ×2 about axis
    cirpattern1_axis = Axis((0, -500, 0), (1, 0, 0))
    add([boss_extrude2.rotate(cirpattern1_axis, i * CIRPATTERN1_ANGLE / (CIRPATTERN1_COUNT - 1)) for i in range(1, CIRPATTERN1_COUNT)])
    add([tap_drill_for_m3x0_5_tap1.rotate(cirpattern1_axis, i * CIRPATTERN1_ANGLE / (CIRPATTERN1_COUNT - 1)) for i in range(1, CIRPATTERN1_COUNT)], mode=Mode.SUBTRACT)

    # CirPattern1 copy 1 sketch → CirPattern1 copy 1 (revolve, cut)
    with BuildSketch(Plane(origin=(3.175, -532.067854195, -42.010776971), x_dir=(0, 0.7071067811865551, -0.7071067811865399), z_dir=(1, 0, 0))):
        Polygon((0, 0), (0, 5.751075774), (1.25, 5), (1.25, 0), align=None)
    revolve(axis=Axis((3.175, -536.557982255, -46.500905032), (0, 0.7071067811865398, 0.7071067811865553)), mode=Mode.SUBTRACT)

    # Sketch9 → Cut-Extrude5 (cut, through all)
    with BuildSketch(Plane(origin=(6.35, 0, 0), x_dir=(0, 0, -1), z_dir=(1, 0, 0))):
        with BuildLine():
            Line((-43.483717035, -516.474718596), (-63.483717035, -516.474718596))
            ThreePointArc((-63.483717035, -516.474718596), (0, -565.586573942), (63.483717035, -516.474718596))
            Line((63.483717035, -516.474718596), (43.483717035, -516.474718596))
            ThreePointArc((43.483717035, -516.474718596), (0, -546.5), (-43.483717035, -516.474718596))
        make_face()
    extrude(amount=-CUT_EXTRUDE5_DEPTH, mode=Mode.SUBTRACT)

    # Sketch10 → Cut-Extrude6 (cut, through all)
    with BuildSketch(Plane(origin=(6.35, 0, 0), x_dir=(0, 0, -1), z_dir=(1, 0, 0))):
        with Locations((0, -500)):
            Circle(SKETCH10_R)
    extrude(amount=-CUT_EXTRUDE6_DEPTH, mode=Mode.SUBTRACT)


solid = part.part
